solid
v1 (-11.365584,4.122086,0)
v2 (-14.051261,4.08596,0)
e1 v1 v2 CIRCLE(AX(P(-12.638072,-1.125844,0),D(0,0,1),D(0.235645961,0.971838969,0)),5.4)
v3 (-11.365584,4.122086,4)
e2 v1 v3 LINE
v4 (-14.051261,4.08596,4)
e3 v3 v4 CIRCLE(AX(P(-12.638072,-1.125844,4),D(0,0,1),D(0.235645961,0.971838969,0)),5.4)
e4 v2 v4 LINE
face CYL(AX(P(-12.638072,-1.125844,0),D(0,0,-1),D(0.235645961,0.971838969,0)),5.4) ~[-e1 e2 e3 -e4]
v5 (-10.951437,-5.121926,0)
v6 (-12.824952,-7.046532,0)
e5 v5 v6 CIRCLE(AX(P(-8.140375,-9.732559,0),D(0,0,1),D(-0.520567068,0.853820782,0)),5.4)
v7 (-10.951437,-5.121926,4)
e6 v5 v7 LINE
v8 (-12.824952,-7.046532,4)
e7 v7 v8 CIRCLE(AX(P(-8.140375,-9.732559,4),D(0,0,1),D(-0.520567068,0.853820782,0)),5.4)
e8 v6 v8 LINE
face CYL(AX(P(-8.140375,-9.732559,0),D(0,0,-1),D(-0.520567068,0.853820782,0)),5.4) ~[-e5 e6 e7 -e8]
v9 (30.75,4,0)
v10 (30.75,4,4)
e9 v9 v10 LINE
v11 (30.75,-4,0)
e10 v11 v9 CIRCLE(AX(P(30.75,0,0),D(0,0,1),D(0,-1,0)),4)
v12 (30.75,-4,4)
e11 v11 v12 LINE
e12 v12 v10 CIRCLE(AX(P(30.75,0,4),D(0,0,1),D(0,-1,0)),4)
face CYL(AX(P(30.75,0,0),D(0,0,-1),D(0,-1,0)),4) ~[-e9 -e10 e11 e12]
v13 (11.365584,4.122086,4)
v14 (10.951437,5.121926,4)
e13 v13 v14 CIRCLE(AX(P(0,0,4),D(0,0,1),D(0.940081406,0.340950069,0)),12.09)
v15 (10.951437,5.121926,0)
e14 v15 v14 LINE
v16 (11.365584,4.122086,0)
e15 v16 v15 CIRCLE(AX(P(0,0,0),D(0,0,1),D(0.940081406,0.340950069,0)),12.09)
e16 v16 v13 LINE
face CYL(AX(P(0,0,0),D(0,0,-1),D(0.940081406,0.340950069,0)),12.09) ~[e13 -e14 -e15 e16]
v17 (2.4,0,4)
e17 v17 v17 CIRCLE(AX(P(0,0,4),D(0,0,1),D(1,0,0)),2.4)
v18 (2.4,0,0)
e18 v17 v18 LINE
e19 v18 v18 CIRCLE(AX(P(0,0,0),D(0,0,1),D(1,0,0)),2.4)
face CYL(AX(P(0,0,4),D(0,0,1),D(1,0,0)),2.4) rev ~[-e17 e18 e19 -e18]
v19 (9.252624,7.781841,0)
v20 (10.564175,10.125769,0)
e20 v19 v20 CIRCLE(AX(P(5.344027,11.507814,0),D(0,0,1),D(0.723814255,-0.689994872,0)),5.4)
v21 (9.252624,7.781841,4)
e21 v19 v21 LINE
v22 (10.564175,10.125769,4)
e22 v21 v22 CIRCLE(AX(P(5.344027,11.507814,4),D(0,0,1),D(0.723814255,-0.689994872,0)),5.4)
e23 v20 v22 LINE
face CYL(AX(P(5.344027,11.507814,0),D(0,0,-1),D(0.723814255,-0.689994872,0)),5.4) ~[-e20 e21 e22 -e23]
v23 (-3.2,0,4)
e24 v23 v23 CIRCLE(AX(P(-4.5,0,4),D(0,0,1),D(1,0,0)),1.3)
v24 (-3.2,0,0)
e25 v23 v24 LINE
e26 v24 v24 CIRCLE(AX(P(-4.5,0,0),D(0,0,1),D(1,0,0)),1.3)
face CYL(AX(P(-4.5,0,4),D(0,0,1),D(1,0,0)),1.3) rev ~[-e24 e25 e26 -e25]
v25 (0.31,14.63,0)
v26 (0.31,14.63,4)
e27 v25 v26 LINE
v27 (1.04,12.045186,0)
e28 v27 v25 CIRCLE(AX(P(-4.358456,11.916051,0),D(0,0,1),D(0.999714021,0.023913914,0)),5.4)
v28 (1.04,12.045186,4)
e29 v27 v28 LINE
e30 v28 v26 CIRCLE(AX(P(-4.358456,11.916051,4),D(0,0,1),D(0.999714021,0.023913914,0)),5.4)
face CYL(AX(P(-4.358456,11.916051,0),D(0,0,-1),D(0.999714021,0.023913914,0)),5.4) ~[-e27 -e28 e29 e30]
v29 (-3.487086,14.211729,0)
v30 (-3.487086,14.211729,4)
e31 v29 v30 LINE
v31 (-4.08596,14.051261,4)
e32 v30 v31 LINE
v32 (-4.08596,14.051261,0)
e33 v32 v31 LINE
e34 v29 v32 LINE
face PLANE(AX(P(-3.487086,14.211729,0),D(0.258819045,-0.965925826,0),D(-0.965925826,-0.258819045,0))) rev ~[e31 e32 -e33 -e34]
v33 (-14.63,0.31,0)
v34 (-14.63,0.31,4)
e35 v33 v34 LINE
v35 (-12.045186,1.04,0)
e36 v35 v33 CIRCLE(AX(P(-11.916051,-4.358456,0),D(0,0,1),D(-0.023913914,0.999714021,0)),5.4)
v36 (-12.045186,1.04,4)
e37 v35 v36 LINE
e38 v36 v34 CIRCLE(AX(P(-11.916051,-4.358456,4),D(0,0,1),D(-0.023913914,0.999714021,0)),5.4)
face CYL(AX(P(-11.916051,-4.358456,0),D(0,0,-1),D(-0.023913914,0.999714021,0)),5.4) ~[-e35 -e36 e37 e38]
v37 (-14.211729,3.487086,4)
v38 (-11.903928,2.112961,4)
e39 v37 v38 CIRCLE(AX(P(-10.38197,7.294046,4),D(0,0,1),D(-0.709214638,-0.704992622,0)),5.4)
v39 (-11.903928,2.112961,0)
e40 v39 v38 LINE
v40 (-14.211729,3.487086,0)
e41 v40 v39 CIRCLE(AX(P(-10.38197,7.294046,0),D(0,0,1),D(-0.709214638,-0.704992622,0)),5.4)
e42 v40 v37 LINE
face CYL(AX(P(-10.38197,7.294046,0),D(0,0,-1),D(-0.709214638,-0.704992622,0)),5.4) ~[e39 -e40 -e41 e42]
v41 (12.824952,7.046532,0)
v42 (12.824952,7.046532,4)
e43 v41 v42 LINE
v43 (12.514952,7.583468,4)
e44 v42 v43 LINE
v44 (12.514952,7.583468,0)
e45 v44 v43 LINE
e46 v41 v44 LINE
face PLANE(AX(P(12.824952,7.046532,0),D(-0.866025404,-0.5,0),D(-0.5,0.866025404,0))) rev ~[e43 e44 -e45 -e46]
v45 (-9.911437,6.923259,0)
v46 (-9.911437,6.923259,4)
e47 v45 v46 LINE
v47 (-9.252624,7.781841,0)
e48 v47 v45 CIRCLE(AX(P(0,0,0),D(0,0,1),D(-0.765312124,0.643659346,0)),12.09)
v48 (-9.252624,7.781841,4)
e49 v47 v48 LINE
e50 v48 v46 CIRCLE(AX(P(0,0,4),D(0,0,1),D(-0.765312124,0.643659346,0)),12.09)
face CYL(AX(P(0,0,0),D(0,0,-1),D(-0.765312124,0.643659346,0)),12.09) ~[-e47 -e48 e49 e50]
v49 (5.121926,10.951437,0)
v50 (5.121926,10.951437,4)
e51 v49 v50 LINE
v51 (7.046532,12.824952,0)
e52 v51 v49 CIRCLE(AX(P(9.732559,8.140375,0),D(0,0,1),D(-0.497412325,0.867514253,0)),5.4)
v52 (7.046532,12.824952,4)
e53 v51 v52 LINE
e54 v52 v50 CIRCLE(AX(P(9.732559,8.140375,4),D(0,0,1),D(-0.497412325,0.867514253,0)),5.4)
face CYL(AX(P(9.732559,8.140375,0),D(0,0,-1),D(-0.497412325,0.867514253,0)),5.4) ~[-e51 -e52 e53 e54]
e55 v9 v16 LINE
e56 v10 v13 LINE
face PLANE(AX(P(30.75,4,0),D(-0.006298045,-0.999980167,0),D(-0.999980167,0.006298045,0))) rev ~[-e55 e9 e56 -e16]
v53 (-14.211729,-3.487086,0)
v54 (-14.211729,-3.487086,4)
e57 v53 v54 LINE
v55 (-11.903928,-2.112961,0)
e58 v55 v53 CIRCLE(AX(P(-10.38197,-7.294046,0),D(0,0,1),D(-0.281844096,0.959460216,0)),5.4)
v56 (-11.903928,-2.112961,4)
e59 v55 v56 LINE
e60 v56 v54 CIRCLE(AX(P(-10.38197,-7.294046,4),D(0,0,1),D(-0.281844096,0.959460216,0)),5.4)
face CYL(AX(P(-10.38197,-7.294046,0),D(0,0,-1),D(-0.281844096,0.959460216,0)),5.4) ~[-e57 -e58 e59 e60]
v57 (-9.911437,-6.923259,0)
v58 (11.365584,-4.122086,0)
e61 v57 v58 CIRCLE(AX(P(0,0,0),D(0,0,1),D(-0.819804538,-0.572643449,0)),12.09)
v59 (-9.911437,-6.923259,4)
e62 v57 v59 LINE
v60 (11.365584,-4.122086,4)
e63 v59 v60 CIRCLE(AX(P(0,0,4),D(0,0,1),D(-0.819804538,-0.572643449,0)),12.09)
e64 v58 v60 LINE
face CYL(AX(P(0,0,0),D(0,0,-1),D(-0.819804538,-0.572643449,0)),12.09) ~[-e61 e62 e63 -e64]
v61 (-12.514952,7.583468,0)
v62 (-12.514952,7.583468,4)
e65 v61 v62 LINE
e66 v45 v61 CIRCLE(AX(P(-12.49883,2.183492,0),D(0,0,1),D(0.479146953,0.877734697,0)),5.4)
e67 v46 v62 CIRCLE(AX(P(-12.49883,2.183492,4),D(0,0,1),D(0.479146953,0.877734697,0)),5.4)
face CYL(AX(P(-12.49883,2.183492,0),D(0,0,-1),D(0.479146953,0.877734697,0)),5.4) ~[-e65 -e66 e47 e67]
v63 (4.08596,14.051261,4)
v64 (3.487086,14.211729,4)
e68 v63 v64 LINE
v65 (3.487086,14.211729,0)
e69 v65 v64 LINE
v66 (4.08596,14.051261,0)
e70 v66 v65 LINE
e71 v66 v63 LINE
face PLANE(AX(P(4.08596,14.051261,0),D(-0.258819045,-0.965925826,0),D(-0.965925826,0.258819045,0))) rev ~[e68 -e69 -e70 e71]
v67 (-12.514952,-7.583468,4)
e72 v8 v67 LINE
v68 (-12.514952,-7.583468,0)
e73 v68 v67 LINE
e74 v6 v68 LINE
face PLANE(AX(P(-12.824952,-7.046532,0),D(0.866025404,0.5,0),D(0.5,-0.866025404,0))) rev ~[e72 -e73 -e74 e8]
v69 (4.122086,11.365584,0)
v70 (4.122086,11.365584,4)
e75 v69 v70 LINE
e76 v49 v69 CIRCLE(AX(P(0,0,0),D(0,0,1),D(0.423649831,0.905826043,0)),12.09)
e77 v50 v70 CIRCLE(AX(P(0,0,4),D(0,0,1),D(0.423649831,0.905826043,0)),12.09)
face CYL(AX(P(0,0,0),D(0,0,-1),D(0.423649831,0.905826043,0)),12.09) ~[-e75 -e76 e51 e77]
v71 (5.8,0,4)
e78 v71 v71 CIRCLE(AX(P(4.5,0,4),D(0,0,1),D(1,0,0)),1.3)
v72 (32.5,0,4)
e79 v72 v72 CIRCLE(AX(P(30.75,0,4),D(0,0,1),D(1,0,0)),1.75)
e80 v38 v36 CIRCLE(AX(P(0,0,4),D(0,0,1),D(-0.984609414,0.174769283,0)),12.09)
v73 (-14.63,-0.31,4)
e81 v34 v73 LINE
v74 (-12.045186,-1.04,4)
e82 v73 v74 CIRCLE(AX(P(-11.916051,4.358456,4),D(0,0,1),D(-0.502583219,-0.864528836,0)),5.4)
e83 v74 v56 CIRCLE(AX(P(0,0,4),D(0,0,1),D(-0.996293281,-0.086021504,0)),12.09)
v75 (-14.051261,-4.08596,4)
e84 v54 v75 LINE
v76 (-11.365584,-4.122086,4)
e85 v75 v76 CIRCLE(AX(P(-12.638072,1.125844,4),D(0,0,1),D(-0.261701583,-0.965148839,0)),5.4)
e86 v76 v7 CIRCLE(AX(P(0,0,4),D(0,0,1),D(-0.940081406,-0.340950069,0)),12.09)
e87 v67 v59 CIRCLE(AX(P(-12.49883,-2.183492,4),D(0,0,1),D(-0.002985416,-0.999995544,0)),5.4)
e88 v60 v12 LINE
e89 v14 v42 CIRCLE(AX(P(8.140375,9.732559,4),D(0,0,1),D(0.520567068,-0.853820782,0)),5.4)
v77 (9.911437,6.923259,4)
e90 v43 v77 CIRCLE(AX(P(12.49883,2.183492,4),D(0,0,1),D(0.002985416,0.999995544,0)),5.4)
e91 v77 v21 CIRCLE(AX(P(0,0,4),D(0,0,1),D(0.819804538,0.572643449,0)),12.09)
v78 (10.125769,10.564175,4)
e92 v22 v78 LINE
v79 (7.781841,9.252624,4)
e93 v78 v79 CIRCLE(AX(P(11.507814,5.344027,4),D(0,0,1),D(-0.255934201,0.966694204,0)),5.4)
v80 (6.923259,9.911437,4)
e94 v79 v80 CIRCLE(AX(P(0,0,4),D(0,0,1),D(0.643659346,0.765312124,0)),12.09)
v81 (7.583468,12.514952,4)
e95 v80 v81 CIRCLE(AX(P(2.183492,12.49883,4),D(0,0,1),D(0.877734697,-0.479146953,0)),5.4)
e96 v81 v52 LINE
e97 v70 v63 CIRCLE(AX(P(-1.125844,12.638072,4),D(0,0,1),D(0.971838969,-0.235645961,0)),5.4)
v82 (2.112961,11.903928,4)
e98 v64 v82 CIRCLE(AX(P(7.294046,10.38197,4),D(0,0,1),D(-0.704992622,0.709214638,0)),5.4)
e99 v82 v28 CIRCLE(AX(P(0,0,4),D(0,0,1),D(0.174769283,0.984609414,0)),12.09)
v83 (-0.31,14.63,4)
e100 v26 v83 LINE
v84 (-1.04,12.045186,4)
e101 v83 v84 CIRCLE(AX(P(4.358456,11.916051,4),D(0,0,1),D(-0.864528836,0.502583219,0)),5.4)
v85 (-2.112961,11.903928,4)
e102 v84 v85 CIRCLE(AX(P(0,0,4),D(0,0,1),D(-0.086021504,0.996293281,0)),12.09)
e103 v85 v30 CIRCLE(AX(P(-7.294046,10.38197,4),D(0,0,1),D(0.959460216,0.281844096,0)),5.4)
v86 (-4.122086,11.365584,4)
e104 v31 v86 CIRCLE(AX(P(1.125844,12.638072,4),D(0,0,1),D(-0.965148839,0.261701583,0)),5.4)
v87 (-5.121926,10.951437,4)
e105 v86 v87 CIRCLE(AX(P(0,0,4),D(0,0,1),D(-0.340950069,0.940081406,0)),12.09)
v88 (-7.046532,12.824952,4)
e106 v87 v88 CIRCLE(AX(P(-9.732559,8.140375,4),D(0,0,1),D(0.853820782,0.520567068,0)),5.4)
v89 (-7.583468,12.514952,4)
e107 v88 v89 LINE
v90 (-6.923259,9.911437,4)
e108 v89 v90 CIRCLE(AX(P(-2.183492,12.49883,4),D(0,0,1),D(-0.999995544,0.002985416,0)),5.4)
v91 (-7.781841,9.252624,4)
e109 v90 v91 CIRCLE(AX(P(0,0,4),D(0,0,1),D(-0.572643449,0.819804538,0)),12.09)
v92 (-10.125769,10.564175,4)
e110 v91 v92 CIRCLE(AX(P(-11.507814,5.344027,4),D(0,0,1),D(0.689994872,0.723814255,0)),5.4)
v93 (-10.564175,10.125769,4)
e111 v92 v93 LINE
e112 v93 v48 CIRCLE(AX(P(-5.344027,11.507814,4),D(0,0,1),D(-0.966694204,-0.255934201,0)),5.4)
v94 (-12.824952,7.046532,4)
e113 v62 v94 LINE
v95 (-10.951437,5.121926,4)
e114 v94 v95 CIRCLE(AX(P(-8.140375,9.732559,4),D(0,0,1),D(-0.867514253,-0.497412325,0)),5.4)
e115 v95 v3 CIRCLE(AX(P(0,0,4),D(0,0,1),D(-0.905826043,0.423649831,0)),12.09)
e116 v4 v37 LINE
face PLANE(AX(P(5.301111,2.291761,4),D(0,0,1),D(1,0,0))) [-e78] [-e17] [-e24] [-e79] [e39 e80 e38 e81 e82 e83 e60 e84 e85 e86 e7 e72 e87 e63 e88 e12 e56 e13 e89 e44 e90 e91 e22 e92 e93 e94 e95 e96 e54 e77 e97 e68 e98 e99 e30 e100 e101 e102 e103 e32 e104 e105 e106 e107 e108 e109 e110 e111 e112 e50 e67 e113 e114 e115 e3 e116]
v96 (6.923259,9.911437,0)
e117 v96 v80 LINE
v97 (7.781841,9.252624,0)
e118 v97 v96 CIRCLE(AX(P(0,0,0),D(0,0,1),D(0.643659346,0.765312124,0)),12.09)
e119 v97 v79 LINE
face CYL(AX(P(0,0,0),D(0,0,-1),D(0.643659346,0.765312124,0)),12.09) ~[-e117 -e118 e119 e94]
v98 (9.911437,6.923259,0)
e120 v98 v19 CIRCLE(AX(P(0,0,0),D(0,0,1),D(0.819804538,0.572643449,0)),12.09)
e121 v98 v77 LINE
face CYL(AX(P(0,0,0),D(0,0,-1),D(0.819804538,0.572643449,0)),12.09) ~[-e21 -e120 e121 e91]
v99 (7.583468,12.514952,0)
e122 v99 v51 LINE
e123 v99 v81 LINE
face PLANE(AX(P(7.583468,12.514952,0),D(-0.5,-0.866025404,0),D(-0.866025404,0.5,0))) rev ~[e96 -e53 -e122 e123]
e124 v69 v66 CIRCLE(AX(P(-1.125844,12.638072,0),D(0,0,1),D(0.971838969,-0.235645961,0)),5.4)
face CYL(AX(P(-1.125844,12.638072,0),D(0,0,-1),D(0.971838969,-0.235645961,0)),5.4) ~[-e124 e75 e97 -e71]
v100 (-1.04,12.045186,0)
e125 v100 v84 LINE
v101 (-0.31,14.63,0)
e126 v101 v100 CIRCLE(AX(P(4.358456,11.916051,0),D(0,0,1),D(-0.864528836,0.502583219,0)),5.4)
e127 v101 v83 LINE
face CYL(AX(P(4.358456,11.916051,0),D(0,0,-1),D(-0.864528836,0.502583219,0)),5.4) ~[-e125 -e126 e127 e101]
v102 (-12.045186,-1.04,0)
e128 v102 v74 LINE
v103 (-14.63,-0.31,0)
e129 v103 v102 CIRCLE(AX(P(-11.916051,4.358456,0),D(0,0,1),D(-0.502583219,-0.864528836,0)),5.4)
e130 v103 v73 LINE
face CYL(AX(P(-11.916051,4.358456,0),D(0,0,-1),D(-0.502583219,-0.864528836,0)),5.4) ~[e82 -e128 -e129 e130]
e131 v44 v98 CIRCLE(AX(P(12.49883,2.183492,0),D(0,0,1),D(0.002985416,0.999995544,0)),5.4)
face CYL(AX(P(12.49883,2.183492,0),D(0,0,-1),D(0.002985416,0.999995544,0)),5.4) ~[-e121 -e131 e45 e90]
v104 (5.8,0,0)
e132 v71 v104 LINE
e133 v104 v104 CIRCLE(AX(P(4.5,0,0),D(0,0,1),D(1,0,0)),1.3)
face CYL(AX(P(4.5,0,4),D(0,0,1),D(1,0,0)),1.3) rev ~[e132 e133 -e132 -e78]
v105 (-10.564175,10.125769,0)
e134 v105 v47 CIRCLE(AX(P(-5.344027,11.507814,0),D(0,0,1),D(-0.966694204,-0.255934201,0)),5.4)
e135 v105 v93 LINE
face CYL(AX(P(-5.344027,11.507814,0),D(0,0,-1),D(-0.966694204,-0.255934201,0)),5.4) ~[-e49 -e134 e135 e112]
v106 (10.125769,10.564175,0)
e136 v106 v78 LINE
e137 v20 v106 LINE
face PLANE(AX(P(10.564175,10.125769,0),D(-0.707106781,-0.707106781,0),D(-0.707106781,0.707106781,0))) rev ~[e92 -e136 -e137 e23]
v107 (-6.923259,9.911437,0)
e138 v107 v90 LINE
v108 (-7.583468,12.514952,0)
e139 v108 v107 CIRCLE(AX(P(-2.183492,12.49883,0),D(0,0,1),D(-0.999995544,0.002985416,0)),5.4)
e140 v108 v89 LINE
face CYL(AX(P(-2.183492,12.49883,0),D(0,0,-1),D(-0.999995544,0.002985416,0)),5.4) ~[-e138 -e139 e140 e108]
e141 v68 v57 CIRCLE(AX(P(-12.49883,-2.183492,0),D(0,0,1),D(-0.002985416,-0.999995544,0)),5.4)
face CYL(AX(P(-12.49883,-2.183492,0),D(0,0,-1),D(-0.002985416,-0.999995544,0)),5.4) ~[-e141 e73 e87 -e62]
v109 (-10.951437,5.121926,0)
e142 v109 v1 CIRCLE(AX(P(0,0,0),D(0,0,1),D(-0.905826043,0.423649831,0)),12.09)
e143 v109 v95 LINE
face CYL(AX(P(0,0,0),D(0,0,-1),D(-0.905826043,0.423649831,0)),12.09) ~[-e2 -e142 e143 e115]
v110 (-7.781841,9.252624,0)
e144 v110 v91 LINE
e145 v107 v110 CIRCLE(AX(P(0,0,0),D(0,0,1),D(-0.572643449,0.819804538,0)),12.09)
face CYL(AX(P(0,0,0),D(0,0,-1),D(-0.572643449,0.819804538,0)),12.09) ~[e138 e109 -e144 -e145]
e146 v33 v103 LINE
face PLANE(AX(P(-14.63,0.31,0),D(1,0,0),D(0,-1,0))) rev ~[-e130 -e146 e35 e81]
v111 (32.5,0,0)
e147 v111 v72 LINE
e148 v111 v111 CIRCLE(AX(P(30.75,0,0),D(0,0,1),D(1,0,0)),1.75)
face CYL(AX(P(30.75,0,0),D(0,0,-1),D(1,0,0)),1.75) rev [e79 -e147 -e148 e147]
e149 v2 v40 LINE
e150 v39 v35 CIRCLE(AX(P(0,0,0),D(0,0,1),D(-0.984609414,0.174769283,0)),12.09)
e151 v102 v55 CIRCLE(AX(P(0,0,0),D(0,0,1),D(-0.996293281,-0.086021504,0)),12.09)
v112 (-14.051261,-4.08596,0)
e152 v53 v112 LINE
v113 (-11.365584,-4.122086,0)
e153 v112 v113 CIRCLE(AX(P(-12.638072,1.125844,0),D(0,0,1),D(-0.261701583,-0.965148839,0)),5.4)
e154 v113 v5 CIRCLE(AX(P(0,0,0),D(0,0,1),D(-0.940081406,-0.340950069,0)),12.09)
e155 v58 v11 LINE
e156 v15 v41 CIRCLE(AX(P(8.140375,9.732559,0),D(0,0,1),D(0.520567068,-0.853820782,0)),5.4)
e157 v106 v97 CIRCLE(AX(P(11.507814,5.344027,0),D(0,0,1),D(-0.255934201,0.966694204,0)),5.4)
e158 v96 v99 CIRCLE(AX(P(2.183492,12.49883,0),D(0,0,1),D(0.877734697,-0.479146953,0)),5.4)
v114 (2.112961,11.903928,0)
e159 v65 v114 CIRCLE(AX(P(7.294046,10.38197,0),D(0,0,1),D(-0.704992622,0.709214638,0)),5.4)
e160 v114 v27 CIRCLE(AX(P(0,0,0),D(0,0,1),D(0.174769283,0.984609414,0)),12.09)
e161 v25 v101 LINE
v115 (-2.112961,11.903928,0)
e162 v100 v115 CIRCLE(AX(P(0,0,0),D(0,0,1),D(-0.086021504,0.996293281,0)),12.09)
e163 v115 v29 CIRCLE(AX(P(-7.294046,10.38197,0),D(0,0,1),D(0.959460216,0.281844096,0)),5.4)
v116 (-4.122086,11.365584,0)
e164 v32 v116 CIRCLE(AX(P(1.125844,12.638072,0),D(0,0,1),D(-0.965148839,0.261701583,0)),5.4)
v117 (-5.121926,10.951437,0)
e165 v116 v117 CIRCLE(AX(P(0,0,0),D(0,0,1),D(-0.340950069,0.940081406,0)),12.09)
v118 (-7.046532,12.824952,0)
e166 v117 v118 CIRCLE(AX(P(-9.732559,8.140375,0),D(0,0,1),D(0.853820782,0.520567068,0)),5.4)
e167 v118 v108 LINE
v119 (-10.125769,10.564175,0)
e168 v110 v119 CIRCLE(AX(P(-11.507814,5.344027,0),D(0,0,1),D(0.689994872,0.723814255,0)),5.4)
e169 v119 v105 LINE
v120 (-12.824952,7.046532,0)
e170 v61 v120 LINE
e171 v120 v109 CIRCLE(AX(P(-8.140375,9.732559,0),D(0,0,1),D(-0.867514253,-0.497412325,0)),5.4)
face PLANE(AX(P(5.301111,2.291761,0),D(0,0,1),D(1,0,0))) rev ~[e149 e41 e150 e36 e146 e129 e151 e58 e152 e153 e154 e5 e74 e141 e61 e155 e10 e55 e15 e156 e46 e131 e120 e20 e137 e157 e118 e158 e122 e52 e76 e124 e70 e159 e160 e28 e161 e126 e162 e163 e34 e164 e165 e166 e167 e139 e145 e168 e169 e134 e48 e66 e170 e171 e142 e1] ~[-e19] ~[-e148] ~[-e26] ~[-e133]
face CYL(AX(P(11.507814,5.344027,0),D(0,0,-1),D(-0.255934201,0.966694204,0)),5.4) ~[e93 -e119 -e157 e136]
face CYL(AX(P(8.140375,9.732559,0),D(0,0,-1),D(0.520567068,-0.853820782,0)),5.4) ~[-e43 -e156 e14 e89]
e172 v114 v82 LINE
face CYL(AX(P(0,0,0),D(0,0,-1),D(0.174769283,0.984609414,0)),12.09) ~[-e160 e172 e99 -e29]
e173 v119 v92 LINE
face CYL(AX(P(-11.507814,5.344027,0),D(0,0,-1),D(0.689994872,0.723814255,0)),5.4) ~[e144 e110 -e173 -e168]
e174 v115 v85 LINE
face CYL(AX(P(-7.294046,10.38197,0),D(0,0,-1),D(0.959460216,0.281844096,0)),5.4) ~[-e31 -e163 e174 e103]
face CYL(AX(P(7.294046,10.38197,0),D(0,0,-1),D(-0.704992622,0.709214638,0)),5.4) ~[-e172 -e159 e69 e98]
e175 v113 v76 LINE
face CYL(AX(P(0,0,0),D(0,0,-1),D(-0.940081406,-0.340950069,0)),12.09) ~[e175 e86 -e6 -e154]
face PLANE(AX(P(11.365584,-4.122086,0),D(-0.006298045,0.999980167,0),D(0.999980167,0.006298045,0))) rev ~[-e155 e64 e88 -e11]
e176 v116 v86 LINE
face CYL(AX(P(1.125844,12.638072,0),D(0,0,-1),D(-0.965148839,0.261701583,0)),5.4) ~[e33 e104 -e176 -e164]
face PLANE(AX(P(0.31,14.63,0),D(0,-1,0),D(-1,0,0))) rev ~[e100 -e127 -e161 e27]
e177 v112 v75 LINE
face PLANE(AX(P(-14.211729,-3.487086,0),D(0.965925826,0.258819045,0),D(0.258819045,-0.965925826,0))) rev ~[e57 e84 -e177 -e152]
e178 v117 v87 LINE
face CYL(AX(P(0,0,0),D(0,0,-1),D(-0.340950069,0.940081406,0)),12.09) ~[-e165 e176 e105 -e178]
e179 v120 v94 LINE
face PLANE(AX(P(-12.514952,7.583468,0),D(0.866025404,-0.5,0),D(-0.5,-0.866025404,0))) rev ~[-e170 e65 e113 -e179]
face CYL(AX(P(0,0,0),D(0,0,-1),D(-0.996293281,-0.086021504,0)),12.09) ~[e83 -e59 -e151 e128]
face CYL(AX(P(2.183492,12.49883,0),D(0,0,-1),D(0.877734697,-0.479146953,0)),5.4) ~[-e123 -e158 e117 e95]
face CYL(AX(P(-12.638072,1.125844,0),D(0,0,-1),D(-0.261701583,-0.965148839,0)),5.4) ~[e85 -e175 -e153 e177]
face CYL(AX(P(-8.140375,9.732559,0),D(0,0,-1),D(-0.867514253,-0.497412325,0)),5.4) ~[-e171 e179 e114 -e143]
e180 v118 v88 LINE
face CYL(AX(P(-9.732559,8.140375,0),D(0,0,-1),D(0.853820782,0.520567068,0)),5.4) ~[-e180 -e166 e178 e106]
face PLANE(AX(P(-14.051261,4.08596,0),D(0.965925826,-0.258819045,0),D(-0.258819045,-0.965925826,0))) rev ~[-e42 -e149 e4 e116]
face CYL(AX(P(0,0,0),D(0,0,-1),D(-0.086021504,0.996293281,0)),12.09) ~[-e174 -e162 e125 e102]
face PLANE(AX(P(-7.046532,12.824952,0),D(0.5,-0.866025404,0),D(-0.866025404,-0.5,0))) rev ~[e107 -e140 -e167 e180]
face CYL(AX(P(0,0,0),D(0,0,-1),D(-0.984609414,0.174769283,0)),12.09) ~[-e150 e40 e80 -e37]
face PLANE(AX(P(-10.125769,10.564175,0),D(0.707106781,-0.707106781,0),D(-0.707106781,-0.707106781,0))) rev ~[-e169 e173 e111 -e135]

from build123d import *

# Parameters (mm, degrees)
SKETCH1_R           = 1.75
BOSS_EXTRUDE1_DEPTH = 4
SKETCH2_R           = 1.75
CUT_EXTRUDE2_DEPTH  = 38.915688046
SKETCH3_R           = 2.4
SKETCH3_R_2         = 1.3
CUT_EXTRUDE3_DEPTH  = 38.915688046


with BuildPart() as part:
    # Sketch1 → Boss-Extrude1 (new body)
    with BuildSketch(Plane.XY):
        with BuildLine():
            Line((0.31, 14.63), (-0.31, 14.63))
            ThreePointArc((-0.31, 14.63), (-0.838273314, 13.383704325), (-1.04, 12.04518576))
            ThreePointArc((-1.04, 12.04518576), (-1.578061664, 11.986568374), (-2.112960617, 11.903927815))
            ThreePointArc((-2.112960617, 11.903927815), (-2.65424773, 13.144626757), (-3.487085624, 14.211728743))
            Line((-3.487085624, 14.211728743), (-4.085959636, 14.051260935))
            ThreePointArc((-4.085959636, 14.051260935), (-4.273667417, 12.71070456), (-4.122086336, 11.365584201))
            ThreePointArc((-4.122086336, 11.365584201), (-4.626642697, 11.169703548), (-5.12192646, 10.951436862))
            ThreePointArc((-5.12192646, 10.951436862), (-5.965886177, 12.009764599), (-7.046532125, 12.824951657))
            Line((-7.046532125, 12.824951657), (-7.583467875, 12.514951657))
            ThreePointArc((-7.583467875, 12.514951657), (-7.417818147, 11.171491285), (-6.9232593, 9.911436862))
            ThreePointArc((-6.9232593, 9.911436862), (-7.359925677, 9.591641884), (-7.781841479, 9.252623584))
            ThreePointArc((-7.781841479, 9.252623584), (-8.870959341, 10.05645683), (-10.125769107, 10.564175311))
            Line((-10.125769107, 10.564175311), (-10.564175311, 10.125769107))
            ThreePointArc((-10.564175311, 10.125769107), (-10.05645683, 8.870959341), (-9.252623584, 7.781841479))
            ThreePointArc((-9.252623584, 7.781841479), (-9.591641884, 7.359925677), (-9.911436862, 6.9232593))
            ThreePointArc((-9.911436862, 6.9232593), (-11.171491285, 7.417818147), (-12.514951657, 7.583467875))
            Line((-12.514951657, 7.583467875), (-12.824951657, 7.046532125))
            ThreePointArc((-12.824951657, 7.046532125), (-12.009764599, 5.965886177), (-10.951436862, 5.12192646))
            ThreePointArc((-10.951436862, 5.12192646), (-11.169703548, 4.626642697), (-11.365584201, 4.122086336))
            ThreePointArc((-11.365584201, 4.122086336), (-12.71070456, 4.273667417), (-14.051260935, 4.085959636))
            Line((-14.051260935, 4.085959636), (-14.211728743, 3.487085624))
            ThreePointArc((-14.211728743, 3.487085624), (-13.144626757, 2.65424773), (-11.903927815, 2.112960617))
            ThreePointArc((-11.903927815, 2.112960617), (-11.986568374, 1.578061664), (-12.04518576, 1.04))
            ThreePointArc((-12.04518576, 1.04), (-13.383704325, 0.838273314), (-14.63, 0.31))
            Line((-14.63, 0.31), (-14.63, -0.31))
            ThreePointArc((-14.63, -0.31), (-13.383704325, -0.838273314), (-12.04518576, -1.04))
            ThreePointArc((-12.04518576, -1.04), (-11.986568374, -1.578061664), (-11.903927815, -2.112960617))
            ThreePointArc((-11.903927815, -2.112960617), (-13.144626757, -2.65424773), (-14.211728743, -3.487085624))
            Line((-14.211728743, -3.487085624), (-14.051260935, -4.085959636))
            ThreePointArc((-14.051260935, -4.085959636), (-12.71070456, -4.273667417), (-11.365584201, -4.122086336))
            ThreePointArc((-11.365584201, -4.122086336), (-11.169703548, -4.626642697), (-10.951436862, -5.12192646))
            ThreePointArc((-10.951436862, -5.12192646), (-12.009764599, -5.965886177), (-12.824951657, -7.046532125))
            Line((-12.824951657, -7.046532125), (-12.514951657, -7.583467875))
            ThreePointArc((-12.514951657, -7.583467875), (-11.171491285, -7.417818147), (-9.911436862, -6.9232593))
            ThreePointArc((-9.911436862, -6.9232593), (1.578061664, -11.986568374), (11.365584201, -4.122086336))
            Line((11.365584201, -4.122086336), (30.75, -4))
            ThreePointArc((30.75, -4), (34.75, 0), (30.75, 4))
            Line((30.75, 4), (11.365584201, 4.122086336))
            ThreePointArc((11.365584201, 4.122086336), (11.169703548, 4.626642697), (10.951436862, 5.12192646))
            ThreePointArc((10.951436862, 5.12192646), (12.009764599, 5.965886177), (12.824951657, 7.046532125))
            Line((12.824951657, 7.046532125), (12.514951657, 7.583467875))
            ThreePointArc((12.514951657, 7.583467875), (11.171491285, 7.417818147), (9.911436862, 6.9232593))
            ThreePointArc((9.911436862, 6.9232593), (9.591641884, 7.359925677), (9.252623584, 7.781841479))
            ThreePointArc((9.252623584, 7.781841479), (10.05645683, 8.870959341), (10.564175311, 10.125769107))
            Line((10.564175311, 10.125769107), (10.125769107, 10.564175311))
            ThreePointArc((10.125769107, 10.564175311), (8.870959341, 10.05645683), (7.781841479, 9.252623584))
            ThreePointArc((7.781841479, 9.252623584), (7.359925677, 9.591641884), (6.9232593, 9.911436862))
            ThreePointArc((6.9232593, 9.911436862), (7.417818147, 11.171491285), (7.583467875, 12.514951657))
            Line((7.583467875, 12.514951657), (7.046532125, 12.824951657))
            ThreePointArc((7.046532125, 12.824951657), (5.965886177, 12.009764599), (5.12192646, 10.951436862))
            ThreePointArc((5.12192646, 10.951436862), (4.626642697, 11.169703548), (4.122086336, 11.365584201))
            ThreePointArc((4.122086336, 11.365584201), (4.273667417, 12.71070456), (4.085959636, 14.051260935))
            Line((4.085959636, 14.051260935), (3.487085624, 14.211728743))
            ThreePointArc((3.487085624, 14.211728743), (2.65424773, 13.144626757), (2.112960617, 11.903927815))
            ThreePointArc((2.112960617, 11.903927815), (1.578061664, 11.986568374), (1.04, 12.04518576))
            ThreePointArc((1.04, 12.04518576), (0.838273314, 13.383704325), (0.31, 14.63))
        make_face()
        with Locations((30.75, 0)):
            Circle(SKETCH1_R, mode=Mode.SUBTRACT)
    extrude(amount=BOSS_EXTRUDE1_DEPTH)

    # Sketch2 → Cut-Extrude2 (cut, through all)
    with BuildSketch(Plane.XY.offset(4)):
        Circle(SKETCH2_R)
    extrude(amount=-CUT_EXTRUDE2_DEPTH, mode=Mode.SUBTRACT)

    # Sketch3 → Cut-Extrude3 (cut, through all)
    with BuildSketch(Plane.XY.offset(4)):
        Circle(SKETCH3_R)
        with Locations((-4.5, 0)):
            Circle(SKETCH3_R_2)
        with Locations((4.5, 0)):
            Circle(SKETCH3_R_2)
    extrude(amount=-CUT_EXTRUDE3_DEPTH, mode=Mode.SUBTRACT)


solid = part.part
